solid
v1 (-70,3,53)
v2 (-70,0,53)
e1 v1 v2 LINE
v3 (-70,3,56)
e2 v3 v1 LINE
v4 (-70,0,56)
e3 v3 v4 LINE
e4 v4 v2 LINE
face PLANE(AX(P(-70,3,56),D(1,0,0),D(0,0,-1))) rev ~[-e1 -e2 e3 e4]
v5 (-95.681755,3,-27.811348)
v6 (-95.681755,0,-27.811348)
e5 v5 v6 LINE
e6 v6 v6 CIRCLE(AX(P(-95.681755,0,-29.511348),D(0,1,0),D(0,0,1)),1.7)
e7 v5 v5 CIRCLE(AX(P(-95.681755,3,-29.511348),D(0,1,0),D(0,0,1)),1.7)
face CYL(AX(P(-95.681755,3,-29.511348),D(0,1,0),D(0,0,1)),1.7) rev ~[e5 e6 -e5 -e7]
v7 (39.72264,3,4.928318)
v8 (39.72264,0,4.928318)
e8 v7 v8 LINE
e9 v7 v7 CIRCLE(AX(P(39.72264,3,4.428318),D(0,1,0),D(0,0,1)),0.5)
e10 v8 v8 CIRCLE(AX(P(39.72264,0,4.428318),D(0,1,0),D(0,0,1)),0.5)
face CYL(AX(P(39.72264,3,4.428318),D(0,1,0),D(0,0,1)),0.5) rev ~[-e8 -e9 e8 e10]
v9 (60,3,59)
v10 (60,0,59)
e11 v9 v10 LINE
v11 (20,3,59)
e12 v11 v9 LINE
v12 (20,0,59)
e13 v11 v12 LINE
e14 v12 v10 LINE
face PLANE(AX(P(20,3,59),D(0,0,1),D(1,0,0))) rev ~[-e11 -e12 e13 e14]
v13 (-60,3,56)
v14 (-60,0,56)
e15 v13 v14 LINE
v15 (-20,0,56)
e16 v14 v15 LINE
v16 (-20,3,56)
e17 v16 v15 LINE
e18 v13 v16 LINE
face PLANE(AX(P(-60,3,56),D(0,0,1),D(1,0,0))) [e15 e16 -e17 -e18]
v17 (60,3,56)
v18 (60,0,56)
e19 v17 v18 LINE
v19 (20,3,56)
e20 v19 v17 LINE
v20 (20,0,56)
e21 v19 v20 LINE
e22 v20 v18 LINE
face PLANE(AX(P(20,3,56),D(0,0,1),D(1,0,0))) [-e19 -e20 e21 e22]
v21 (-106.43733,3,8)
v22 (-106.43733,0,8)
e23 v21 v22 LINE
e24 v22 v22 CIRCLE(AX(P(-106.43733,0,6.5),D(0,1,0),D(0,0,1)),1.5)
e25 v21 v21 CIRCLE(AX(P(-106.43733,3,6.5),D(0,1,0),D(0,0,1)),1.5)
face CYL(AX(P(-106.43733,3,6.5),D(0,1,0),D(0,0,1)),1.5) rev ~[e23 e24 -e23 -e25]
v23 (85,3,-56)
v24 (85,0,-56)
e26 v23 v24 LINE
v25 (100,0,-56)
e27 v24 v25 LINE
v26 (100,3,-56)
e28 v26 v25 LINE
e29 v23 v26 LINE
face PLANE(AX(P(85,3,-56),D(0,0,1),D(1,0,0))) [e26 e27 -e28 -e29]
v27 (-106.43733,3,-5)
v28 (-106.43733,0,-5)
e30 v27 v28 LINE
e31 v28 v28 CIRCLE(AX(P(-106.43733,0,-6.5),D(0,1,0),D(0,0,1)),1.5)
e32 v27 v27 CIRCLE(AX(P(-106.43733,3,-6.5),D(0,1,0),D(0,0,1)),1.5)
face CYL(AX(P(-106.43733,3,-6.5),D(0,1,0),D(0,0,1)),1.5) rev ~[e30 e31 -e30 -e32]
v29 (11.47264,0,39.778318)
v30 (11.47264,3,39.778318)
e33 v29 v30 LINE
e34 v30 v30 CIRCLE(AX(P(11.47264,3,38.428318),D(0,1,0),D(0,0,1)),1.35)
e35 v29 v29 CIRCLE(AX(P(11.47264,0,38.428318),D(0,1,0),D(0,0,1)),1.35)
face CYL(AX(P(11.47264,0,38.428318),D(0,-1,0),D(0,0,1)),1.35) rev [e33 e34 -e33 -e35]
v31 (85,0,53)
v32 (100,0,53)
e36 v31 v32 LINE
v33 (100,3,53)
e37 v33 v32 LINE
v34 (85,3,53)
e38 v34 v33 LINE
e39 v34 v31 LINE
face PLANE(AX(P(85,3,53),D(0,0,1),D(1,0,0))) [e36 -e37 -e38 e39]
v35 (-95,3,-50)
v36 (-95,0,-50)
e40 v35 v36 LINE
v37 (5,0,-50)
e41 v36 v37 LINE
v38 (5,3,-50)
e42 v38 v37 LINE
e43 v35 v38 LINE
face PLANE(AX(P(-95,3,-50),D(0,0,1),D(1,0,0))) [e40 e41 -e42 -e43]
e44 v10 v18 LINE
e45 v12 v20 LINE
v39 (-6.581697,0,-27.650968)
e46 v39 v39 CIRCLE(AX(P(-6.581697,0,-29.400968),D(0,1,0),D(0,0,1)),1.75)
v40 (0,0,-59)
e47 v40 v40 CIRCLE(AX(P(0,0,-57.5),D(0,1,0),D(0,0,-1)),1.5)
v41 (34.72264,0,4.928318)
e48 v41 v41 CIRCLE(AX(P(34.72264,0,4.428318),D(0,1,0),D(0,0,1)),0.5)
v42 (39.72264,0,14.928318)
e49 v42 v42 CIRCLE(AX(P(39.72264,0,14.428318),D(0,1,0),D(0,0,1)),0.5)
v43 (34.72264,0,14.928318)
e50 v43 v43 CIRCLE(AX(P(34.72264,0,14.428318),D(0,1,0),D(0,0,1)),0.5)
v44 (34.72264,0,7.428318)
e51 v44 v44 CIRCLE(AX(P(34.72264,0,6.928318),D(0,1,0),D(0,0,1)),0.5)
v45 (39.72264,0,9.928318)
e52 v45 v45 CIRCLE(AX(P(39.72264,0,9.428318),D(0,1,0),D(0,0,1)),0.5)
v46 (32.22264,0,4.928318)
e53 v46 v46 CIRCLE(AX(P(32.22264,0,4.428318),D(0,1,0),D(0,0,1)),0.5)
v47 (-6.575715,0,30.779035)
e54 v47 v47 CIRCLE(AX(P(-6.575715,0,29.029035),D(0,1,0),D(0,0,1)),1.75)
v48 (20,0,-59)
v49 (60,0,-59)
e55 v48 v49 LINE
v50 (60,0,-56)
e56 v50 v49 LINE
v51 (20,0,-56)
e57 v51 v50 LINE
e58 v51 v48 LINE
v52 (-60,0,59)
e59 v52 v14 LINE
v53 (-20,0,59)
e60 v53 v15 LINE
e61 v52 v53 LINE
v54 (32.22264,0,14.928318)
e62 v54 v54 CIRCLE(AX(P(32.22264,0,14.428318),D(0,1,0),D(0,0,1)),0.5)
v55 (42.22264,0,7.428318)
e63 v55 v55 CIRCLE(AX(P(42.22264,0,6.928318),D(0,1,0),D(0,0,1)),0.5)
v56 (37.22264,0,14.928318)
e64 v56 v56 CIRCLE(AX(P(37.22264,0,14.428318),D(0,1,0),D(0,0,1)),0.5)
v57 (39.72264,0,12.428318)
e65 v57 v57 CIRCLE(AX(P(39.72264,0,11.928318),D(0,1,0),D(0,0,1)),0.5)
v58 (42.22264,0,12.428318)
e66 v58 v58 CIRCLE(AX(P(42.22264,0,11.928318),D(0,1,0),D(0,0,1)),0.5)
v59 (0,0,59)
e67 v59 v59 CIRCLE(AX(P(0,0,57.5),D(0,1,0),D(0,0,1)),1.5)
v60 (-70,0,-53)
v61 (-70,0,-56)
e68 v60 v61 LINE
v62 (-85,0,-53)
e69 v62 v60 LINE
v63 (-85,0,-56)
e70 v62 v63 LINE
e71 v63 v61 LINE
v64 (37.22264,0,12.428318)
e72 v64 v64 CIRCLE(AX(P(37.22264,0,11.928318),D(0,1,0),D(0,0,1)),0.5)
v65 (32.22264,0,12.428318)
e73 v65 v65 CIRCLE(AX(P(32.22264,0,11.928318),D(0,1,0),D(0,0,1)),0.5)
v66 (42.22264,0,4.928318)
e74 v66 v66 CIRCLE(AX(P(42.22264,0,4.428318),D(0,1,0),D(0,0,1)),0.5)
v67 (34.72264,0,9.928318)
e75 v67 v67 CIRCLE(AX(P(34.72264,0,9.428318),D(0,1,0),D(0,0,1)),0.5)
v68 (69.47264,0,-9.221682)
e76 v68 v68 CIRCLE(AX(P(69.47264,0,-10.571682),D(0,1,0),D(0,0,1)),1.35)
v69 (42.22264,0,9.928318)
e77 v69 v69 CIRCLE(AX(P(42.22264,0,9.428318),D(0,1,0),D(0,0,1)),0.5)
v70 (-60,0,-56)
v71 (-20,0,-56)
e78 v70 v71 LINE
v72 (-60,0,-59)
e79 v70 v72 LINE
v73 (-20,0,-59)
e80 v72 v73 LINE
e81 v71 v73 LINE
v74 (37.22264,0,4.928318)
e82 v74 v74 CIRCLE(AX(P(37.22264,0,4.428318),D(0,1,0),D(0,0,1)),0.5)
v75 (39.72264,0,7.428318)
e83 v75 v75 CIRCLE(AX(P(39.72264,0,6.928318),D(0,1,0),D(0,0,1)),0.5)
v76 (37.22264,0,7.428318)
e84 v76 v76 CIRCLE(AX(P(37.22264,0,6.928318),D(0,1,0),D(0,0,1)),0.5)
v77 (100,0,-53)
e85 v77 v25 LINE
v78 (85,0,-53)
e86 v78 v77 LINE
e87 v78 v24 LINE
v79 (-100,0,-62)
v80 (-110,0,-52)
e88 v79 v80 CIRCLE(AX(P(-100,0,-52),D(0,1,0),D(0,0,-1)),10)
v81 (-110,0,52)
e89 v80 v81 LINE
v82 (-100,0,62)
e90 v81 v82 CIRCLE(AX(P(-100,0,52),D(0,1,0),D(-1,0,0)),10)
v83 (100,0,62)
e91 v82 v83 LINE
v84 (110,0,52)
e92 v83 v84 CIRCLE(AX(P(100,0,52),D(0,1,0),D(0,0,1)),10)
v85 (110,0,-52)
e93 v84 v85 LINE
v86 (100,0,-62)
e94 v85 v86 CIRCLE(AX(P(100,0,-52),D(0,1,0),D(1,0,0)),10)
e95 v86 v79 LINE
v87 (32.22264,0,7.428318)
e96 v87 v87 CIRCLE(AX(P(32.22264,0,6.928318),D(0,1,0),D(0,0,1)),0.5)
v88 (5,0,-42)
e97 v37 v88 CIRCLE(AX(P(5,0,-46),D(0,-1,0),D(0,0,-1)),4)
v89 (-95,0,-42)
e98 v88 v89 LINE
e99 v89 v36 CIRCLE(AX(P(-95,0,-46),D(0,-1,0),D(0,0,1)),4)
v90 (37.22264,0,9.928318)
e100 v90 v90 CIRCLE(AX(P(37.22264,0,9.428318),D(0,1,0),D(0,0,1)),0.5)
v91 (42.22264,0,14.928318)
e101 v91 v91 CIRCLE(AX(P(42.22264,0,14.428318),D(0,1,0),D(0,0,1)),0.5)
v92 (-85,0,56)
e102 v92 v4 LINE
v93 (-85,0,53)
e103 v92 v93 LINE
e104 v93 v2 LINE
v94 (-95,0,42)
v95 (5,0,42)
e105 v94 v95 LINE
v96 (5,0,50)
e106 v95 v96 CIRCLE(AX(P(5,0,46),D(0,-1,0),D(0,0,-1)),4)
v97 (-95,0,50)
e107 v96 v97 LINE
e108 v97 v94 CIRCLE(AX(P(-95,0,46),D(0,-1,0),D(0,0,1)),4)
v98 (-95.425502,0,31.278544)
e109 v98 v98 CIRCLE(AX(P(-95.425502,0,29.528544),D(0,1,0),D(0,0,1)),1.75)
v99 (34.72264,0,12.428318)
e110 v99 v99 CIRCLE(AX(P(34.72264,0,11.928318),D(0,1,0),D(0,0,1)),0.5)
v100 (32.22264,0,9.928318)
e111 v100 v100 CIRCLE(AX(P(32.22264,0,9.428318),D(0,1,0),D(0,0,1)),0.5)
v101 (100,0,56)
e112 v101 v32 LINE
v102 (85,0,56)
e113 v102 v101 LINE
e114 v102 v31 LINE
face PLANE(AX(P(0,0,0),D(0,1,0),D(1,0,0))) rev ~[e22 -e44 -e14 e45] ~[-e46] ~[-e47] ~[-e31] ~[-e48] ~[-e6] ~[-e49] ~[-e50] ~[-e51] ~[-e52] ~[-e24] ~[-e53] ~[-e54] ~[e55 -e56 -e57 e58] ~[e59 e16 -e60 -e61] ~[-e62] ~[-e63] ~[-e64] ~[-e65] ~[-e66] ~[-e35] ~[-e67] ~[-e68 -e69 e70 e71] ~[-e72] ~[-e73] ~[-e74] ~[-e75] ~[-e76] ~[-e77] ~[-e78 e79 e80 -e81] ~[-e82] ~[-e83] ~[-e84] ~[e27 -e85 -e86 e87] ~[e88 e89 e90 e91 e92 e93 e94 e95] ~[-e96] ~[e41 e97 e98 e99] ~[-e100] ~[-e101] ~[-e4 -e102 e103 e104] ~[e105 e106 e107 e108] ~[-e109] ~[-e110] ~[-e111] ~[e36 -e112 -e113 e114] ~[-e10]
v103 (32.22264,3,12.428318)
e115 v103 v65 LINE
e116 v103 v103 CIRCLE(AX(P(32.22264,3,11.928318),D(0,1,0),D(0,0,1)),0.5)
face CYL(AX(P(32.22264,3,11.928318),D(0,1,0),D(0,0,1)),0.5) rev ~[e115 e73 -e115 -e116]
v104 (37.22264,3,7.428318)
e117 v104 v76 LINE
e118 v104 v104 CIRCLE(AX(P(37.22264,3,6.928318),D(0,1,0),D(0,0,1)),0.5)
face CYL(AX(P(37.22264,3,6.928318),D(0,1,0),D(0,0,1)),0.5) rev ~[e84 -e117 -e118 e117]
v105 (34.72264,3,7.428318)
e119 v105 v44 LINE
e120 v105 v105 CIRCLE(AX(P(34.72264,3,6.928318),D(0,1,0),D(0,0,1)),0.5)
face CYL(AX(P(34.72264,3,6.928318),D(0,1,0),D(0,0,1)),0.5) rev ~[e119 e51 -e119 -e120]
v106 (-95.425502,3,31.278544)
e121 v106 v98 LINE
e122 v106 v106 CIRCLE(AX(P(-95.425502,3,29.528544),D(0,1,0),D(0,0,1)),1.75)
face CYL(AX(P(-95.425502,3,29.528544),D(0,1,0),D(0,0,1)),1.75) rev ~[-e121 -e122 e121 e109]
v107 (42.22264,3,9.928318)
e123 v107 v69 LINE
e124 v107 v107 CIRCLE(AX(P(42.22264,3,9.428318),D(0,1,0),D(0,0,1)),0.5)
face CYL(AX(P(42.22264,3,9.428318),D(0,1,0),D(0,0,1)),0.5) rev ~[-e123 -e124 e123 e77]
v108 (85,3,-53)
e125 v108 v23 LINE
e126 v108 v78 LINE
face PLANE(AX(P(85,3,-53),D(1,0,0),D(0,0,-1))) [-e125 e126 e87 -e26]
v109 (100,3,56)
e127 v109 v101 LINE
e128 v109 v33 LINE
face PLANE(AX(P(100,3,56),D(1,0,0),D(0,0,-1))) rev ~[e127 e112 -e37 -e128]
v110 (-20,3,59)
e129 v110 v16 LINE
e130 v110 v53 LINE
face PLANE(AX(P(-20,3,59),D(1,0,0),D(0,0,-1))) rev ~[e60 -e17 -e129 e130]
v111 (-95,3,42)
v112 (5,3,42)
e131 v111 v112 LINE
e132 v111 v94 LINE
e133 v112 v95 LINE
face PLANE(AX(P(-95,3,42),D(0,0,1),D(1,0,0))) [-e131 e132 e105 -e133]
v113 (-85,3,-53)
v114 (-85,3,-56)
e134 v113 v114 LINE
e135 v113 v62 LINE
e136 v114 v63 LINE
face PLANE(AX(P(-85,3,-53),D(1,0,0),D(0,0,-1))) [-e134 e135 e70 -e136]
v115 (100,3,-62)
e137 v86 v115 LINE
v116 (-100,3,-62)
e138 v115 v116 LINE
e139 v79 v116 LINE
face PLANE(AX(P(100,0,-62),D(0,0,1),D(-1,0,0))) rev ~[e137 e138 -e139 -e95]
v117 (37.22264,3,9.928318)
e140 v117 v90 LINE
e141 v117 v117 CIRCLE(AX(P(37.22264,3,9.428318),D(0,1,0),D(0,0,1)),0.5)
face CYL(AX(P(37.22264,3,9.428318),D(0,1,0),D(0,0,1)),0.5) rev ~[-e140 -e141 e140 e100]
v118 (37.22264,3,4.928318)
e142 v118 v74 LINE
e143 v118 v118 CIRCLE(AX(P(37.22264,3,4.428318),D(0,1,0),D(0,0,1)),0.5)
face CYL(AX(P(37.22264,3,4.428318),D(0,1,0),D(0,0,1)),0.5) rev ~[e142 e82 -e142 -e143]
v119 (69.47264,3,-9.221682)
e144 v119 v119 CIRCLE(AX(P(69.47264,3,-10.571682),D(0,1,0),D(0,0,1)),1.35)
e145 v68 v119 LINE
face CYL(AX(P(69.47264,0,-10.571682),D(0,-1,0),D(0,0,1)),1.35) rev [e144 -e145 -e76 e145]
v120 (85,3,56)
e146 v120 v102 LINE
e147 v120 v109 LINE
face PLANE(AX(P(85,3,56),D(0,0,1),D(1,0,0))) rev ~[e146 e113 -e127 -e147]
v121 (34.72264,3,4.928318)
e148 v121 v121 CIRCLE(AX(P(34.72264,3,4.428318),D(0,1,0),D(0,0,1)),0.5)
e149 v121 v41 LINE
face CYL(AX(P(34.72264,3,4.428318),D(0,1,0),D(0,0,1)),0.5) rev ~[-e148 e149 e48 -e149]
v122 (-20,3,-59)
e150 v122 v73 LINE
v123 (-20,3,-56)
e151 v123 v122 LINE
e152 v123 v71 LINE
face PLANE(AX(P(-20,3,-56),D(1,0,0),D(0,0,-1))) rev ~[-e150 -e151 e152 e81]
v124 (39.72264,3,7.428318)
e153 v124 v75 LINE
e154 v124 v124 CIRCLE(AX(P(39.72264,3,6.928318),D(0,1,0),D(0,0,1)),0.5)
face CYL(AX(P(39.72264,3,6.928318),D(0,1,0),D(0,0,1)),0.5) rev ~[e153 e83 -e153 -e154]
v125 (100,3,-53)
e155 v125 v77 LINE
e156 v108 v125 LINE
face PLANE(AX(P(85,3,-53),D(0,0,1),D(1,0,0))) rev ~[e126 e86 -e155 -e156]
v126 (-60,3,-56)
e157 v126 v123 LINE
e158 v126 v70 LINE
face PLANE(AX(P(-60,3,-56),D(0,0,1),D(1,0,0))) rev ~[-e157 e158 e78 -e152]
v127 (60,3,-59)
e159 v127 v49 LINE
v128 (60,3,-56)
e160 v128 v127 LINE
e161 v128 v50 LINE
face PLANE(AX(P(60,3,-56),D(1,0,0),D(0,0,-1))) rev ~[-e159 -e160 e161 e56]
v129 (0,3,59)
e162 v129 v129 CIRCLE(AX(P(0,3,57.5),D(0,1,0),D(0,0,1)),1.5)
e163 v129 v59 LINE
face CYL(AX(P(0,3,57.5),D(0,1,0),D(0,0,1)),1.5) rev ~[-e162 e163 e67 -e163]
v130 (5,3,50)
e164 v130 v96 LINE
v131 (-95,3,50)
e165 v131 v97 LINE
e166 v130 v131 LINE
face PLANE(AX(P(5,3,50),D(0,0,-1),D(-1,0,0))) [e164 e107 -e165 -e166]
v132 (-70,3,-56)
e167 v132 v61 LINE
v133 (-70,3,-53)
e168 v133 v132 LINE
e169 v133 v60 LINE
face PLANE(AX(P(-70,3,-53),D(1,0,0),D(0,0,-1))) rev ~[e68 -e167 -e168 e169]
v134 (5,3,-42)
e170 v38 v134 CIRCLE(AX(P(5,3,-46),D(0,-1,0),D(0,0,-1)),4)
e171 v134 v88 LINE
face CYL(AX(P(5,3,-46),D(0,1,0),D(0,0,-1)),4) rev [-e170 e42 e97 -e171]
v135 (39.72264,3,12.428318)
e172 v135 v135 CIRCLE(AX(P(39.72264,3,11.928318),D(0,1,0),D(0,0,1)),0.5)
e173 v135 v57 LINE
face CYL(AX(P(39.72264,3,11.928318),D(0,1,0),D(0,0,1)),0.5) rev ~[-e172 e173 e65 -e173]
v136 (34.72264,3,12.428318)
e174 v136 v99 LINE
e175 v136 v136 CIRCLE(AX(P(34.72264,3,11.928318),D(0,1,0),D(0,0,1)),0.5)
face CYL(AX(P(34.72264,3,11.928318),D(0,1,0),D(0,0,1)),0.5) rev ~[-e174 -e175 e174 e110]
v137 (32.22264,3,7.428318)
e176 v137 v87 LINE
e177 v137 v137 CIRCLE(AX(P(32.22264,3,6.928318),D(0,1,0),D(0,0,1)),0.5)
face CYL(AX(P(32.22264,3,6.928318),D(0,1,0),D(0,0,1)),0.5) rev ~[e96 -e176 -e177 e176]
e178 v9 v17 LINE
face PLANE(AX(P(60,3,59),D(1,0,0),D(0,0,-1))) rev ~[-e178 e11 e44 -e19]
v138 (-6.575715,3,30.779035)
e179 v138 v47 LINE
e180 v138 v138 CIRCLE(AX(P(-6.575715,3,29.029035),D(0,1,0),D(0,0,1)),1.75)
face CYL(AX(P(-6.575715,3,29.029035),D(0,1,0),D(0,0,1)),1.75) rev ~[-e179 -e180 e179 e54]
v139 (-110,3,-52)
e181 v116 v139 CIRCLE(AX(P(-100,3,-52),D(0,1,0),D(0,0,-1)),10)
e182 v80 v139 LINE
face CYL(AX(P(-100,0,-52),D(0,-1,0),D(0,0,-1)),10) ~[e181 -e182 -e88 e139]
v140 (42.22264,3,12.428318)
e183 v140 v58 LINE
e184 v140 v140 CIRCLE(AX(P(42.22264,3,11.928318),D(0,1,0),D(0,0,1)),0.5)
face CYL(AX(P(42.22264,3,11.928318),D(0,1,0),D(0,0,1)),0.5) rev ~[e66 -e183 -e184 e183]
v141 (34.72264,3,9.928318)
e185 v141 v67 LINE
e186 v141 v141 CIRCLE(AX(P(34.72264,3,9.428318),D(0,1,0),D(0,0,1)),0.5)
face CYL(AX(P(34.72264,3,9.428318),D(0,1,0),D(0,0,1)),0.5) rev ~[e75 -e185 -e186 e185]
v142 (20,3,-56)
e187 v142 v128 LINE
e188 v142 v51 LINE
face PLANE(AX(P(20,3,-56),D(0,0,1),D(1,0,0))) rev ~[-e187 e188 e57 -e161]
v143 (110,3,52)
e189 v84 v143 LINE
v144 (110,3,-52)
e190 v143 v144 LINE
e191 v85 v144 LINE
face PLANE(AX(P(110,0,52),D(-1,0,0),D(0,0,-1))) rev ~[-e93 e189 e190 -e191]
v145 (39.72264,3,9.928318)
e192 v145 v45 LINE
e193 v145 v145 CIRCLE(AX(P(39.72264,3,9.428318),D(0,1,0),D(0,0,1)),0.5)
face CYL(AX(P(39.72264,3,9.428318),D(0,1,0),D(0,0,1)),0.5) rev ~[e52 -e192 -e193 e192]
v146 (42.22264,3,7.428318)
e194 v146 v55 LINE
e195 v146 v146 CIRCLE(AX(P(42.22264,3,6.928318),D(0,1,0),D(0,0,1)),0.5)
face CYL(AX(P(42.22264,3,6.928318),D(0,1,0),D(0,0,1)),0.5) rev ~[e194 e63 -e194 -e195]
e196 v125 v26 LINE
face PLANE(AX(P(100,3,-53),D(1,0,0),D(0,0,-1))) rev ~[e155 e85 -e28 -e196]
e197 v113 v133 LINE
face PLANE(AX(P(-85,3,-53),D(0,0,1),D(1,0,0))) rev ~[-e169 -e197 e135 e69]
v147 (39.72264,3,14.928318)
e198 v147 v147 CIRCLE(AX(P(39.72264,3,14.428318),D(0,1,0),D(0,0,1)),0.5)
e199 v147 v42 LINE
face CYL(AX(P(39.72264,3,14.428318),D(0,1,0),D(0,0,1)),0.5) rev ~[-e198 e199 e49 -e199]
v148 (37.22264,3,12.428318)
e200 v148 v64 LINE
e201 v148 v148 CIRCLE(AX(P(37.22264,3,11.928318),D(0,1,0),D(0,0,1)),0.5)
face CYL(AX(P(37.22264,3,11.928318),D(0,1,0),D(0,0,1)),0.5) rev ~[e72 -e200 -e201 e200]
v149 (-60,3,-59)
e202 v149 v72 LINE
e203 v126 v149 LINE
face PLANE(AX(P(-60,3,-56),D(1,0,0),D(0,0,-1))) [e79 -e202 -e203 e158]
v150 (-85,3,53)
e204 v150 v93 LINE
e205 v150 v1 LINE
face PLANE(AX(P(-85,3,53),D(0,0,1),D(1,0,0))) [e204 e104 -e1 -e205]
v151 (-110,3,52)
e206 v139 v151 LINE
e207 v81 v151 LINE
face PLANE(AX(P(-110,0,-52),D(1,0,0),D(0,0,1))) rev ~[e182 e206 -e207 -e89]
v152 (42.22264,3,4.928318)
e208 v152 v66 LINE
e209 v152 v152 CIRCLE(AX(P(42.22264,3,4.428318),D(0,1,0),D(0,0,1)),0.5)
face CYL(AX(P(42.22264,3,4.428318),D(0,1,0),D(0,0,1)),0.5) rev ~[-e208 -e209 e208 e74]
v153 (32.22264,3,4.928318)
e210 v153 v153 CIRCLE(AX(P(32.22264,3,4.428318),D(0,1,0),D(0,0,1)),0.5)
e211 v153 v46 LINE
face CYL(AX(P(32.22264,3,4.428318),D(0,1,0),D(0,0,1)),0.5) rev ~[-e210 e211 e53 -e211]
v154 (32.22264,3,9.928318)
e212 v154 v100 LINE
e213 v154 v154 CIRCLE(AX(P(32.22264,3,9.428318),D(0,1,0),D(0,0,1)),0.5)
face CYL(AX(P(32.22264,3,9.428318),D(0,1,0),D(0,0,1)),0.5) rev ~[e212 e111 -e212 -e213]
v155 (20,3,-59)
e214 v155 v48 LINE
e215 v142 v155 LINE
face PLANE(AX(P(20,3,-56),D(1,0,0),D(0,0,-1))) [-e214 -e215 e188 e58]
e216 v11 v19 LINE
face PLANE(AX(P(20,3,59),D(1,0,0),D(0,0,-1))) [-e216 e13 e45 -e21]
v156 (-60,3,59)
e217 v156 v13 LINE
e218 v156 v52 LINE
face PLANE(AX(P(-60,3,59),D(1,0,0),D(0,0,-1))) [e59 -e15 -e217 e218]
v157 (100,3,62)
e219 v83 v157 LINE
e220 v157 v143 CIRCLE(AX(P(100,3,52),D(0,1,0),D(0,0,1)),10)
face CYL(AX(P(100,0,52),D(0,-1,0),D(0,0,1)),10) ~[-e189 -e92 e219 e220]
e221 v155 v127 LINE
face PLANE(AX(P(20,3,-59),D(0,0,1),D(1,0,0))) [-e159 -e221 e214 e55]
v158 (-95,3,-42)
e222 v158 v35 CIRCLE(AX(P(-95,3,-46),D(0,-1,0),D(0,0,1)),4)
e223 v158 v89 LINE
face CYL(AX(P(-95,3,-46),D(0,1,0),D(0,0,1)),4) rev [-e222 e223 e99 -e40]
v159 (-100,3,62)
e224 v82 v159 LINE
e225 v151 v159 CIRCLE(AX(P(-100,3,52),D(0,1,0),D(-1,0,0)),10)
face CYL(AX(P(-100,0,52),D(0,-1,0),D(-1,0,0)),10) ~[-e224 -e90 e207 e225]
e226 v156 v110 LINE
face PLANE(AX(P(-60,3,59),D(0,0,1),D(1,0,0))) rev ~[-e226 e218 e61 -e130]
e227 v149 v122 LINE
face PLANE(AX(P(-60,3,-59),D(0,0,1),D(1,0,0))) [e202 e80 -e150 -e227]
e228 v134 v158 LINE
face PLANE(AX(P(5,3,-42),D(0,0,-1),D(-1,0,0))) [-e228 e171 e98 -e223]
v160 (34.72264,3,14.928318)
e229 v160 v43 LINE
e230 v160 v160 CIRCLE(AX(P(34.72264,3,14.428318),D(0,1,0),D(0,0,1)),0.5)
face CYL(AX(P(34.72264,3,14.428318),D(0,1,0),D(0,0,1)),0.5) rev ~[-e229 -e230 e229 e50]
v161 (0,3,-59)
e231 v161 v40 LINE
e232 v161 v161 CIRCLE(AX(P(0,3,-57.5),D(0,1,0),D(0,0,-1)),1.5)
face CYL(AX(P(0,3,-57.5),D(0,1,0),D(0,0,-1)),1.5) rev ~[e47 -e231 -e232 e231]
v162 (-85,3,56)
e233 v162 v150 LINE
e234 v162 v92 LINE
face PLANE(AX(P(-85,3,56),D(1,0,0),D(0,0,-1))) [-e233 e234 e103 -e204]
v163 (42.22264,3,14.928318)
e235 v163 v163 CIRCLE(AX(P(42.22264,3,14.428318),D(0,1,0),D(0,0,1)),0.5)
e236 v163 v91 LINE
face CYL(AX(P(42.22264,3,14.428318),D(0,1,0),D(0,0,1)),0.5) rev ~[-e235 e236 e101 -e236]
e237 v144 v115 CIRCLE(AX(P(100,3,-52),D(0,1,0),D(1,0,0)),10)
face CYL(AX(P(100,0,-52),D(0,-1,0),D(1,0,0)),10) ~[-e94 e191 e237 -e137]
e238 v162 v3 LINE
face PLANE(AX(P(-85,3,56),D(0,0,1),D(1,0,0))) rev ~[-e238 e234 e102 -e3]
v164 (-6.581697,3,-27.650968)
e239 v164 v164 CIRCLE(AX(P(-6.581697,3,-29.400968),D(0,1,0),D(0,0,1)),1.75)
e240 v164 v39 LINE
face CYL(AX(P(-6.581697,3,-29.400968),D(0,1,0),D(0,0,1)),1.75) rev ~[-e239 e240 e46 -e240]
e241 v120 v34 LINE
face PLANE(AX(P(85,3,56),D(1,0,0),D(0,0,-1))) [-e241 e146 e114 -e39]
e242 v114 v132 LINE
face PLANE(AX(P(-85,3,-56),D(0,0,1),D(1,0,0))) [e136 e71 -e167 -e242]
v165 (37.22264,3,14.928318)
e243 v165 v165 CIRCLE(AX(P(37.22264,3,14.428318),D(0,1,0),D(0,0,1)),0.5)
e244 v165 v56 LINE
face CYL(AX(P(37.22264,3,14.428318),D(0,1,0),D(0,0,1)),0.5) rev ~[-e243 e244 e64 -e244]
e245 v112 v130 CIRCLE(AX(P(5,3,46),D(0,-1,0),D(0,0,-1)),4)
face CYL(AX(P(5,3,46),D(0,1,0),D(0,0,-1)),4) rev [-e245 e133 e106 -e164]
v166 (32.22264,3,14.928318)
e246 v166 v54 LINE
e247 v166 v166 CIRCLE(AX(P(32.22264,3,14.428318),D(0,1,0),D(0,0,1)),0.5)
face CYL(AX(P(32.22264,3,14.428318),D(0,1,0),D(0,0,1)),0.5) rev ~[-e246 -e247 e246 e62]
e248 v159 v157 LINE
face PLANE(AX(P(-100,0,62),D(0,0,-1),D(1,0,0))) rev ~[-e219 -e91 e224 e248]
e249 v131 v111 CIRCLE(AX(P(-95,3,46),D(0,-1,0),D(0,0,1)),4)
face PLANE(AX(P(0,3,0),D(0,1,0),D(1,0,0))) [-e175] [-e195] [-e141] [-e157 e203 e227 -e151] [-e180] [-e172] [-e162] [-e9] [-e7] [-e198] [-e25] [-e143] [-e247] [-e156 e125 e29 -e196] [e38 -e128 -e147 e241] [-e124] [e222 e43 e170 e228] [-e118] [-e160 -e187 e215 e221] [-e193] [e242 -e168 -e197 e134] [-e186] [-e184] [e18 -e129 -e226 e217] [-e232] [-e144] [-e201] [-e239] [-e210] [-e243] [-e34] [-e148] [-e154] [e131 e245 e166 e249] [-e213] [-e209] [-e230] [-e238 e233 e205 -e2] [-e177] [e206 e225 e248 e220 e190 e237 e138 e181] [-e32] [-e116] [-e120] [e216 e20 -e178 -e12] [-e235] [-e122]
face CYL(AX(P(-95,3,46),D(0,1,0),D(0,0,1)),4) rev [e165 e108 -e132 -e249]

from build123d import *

# Parameters (mm, degrees)
SKETCH1_R           = 1.35
BOSS_EXTRUDE1_DEPTH = 3
SKETCH4_R           = 1.5
SKETCH4_W           = 40
SKETCH4_H           = 3
CUT_EXTRUDE1_DEPTH  = 3
SKETCH5_R           = 1.7
SKETCH5_R_2         = 1.75
CUT_EXTRUDE2_DEPTH  = 3
SKETCH6_R           = 0.5
CUT_EXTRUDE3_DEPTH  = 3
SKETCH7_R           = 1.5
CUT_EXTRUDE4_DEPTH  = 3
CUT_EXTRUDE5_DEPTH  = 3
SKETCH9_W           = 15
SKETCH9_H           = 3
CUT_EXTRUDE6_DEPTH  = 3


with BuildPart() as part:
    # Sketch1 → Boss-Extrude1 (new body)
    with BuildSketch(Plane(origin=(0, 0, 0), x_dir=(1, 0, 0), z_dir=(0, 1, 0))):
        with BuildLine():
            Line((-100, -62), (100, -62))
            ThreePointArc((100, -62), (107.071067812, -59.071067812), (110, -52))
            Line((110, -52), (110, 52))
            ThreePointArc((110, 52), (107.071067812, 59.071067812), (100, 62))
            Line((100, 62), (-100, 62))
            ThreePointArc((-100, 62), (-107.071067812, 59.071067812), (-110, 52))
            Line((-110, 52), (-110, -52))
            ThreePointArc((-110, -52), (-107.071067812, -59.071067812), (-100, -62))
        make_face()
        with Locations(Location((69.472640088, 10.571681526, 0), (0, 0, 270))):
            Circle(SKETCH1_R, mode=Mode.SUBTRACT)
        with Locations(Location((11.472640088, -38.428318474, 0), (0, 0, 270))):
            Circle(SKETCH1_R, mode=Mode.SUBTRACT)
    extrude(amount=BOSS_EXTRUDE1_DEPTH)

    # Sketch4 → Cut-Extrude1 (cut)
    with BuildSketch(Plane(origin=(0, 3, 0), x_dir=(1, 0, 0), z_dir=(0, 1, 0))):
        with Locations(Location((0, -57.5, 0), (0, 0, 270))):
            Circle(SKETCH4_R)
        with Locations(Location((0, 57.5, 0), (0, 0, 90))):
            Circle(SKETCH4_R)
        with Locations((-40, -57.5)):
            Rectangle(SKETCH4_W, SKETCH4_H)
        with Locations((40, -57.5)):
            Rectangle(SKETCH4_W, SKETCH4_H)
        with Locations((-40, 57.5)):
            Rectangle(SKETCH4_W, SKETCH4_H)
        with Locations((40, 57.5)):
            Rectangle(SKETCH4_W, SKETCH4_H)
    extrude(amount=-CUT_EXTRUDE1_DEPTH, mode=Mode.SUBTRACT)

    # Sketch5 → Cut-Extrude2 (cut)
    with BuildSketch(Plane(origin=(0, 3, 0), x_dir=(1, 0, 0), z_dir=(0, 1, 0))):
        with Locations(Location((-95.681755145, 29.511348179, 0), (0, 0, 270))):
            Circle(SKETCH5_R)
        with Locations(Location((-95.425501916, -29.52854371, 0), (0, 0, 270))):
            Circle(SKETCH5_R_2)
        with Locations(Location((-6.575715248, -29.029034924, 0), (0, 0, 270))):
            Circle(SKETCH5_R_2)
        with Locations(Location((-6.581697253, 29.400968192, 0), (0, 0, 270))):
            Circle(SKETCH5_R_2)
    extrude(amount=-CUT_EXTRUDE2_DEPTH, mode=Mode.SUBTRACT)

    # Sketch6 → Cut-Extrude3 (cut)
    with BuildSketch(Plane(origin=(0, 3, 0), x_dir=(1, 0, 0), z_dir=(0, 1, 0))):
        with Locations(Location((32.222640088, -4.428318474, 0), (0, 0, 270))):
            Circle(SKETCH6_R)
        with Locations(Location((34.722640088, -4.428318474, 0), (0, 0, 270))):
            Circle(SKETCH6_R)
        with Locations(Location((37.222640088, -4.428318474, 0), (0, 0, 270))):
            Circle(SKETCH6_R)
        with Locations(Location((39.722640088, -4.428318474, 0), (0, 0, 270))):
            Circle(SKETCH6_R)
        with Locations((-29.984615318, 187.322240446)):
            Circle(SKETCH6_R)
        with Locations(Location((42.222640088, -4.428318474, 0), (0, 0, 270))):
            Circle(SKETCH6_R)
        with Locations(Location((32.222640088, -6.928318474, 0), (0, 0, 270))):
            Circle(SKETCH6_R)
        with Locations(Location((34.722640088, -6.928318474, 0), (0, 0, 270))):
            Circle(SKETCH6_R)
        with Locations(Location((37.222640088, -6.928318474, 0), (0, 0, 270))):
            Circle(SKETCH6_R)
        with Locations(Location((39.722640088, -6.928318474, 0), (0, 0, 270))):
            Circle(SKETCH6_R)
        with Locations(Location((42.222640088, -6.928318474, 0), (0, 0, 270))):
            Circle(SKETCH6_R)
        with Locations(Location((32.222640088, -9.428318474, 0), (0, 0, 270))):
            Circle(SKETCH6_R)
        with Locations(Location((34.722640088, -9.428318474, 0), (0, 0, 270))):
            Circle(SKETCH6_R)
        with Locations(Location((37.222640088, -9.428318474, 0), (0, 0, 270))):
            Circle(SKETCH6_R)
        with Locations(Location((39.722640088, -9.428318474, 0), (0, 0, 270))):
            Circle(SKETCH6_R)
        with Locations(Location((42.222640088, -9.428318474, 0), (0, 0, 270))):
            Circle(SKETCH6_R)
        with Locations(Location((32.222640088, -11.928318474, 0), (0, 0, 270))):
            Circle(SKETCH6_R)
        with Locations(Location((34.722640088, -11.928318474, 0), (0, 0, 270))):
            Circle(SKETCH6_R)
        with Locations(Location((37.222640088, -11.928318474, 0), (0, 0, 270))):
            Circle(SKETCH6_R)
        with Locations(Location((39.722640088, -11.928318474, 0), (0, 0, 270))):
            Circle(SKETCH6_R)
        with Locations(Location((42.222640088, -11.928318474, 0), (0, 0, 270))):
            Circle(SKETCH6_R)
        with Locations(Location((32.222640088, -14.428318474, 0), (0, 0, 270))):
            Circle(SKETCH6_R)
        with Locations(Location((34.722640088, -14.428318474, 0), (0, 0, 270))):
            Circle(SKETCH6_R)
        with Locations(Location((37.222640088, -14.428318474, 0), (0, 0, 270))):
            Circle(SKETCH6_R)
        with Locations(Location((39.722640088, -14.428318474, 0), (0, 0, 270))):
            Circle(SKETCH6_R)
        with Locations(Location((42.222640088, -14.428318474, 0), (0, 0, 270))):
            Circle(SKETCH6_R)
    extrude(amount=-CUT_EXTRUDE3_DEPTH, mode=Mode.SUBTRACT)

    # Sketch7 → Cut-Extrude4 (cut)
    with BuildSketch(Plane(origin=(0, 3, 0), x_dir=(1, 0, 0), z_dir=(0, 1, 0))):
        with Locations(Location((-106.437330196, 6.5, 0), (0, 0, 270))):
            Circle(SKETCH7_R)
        with Locations(Location((-106.437330196, -6.5, 0), (0, 0, 270))):
            Circle(SKETCH7_R)
    extrude(amount=-CUT_EXTRUDE4_DEPTH, mode=Mode.SUBTRACT)

    # Sketch8 → Cut-Extrude5 (cut)
    with BuildSketch(Plane(origin=(0, 3, 0), x_dir=(1, 0, 0), z_dir=(0, 1, 0))):
        with BuildLine():
            Line((-95, 50), (5, 50))
            ThreePointArc((5, 50), (9, 46), (5, 42))
            Line((5, 42), (-95, 42))
            ThreePointArc((-95, 42), (-99, 46), (-95, 50))
        make_face()
        with BuildLine():
            Line((-95, -42), (5, -42))
            ThreePointArc((5, -42), (9, -46), (5, -50))
            Line((5, -50), (-95, -50))
            ThreePointArc((-95, -50), (-99, -46), (-95, -42))
        make_face()
    extrude(amount=-CUT_EXTRUDE5_DEPTH, mode=Mode.SUBTRACT)

    # Sketch9 → Cut-Extrude6 (cut)
    with BuildSketch(Plane(origin=(0, 3, 0), x_dir=(1, 0, 0), z_dir=(0, 1, 0))):
        with Locations((-77.5, -54.5)):
            Rectangle(SKETCH9_W, SKETCH9_H)
        with Locations((-77.5, 54.5)):
            Rectangle(SKETCH9_W, SKETCH9_H)
        with Locations((92.5, 54.5)):
            Rectangle(SKETCH9_W, SKETCH9_H)
        with Locations((92.5, -54.5)):
            Rectangle(SKETCH9_W, SKETCH9_H)
    extrude(amount=-CUT_EXTRUDE6_DEPTH, mode=Mode.SUBTRACT)


solid = part.part
